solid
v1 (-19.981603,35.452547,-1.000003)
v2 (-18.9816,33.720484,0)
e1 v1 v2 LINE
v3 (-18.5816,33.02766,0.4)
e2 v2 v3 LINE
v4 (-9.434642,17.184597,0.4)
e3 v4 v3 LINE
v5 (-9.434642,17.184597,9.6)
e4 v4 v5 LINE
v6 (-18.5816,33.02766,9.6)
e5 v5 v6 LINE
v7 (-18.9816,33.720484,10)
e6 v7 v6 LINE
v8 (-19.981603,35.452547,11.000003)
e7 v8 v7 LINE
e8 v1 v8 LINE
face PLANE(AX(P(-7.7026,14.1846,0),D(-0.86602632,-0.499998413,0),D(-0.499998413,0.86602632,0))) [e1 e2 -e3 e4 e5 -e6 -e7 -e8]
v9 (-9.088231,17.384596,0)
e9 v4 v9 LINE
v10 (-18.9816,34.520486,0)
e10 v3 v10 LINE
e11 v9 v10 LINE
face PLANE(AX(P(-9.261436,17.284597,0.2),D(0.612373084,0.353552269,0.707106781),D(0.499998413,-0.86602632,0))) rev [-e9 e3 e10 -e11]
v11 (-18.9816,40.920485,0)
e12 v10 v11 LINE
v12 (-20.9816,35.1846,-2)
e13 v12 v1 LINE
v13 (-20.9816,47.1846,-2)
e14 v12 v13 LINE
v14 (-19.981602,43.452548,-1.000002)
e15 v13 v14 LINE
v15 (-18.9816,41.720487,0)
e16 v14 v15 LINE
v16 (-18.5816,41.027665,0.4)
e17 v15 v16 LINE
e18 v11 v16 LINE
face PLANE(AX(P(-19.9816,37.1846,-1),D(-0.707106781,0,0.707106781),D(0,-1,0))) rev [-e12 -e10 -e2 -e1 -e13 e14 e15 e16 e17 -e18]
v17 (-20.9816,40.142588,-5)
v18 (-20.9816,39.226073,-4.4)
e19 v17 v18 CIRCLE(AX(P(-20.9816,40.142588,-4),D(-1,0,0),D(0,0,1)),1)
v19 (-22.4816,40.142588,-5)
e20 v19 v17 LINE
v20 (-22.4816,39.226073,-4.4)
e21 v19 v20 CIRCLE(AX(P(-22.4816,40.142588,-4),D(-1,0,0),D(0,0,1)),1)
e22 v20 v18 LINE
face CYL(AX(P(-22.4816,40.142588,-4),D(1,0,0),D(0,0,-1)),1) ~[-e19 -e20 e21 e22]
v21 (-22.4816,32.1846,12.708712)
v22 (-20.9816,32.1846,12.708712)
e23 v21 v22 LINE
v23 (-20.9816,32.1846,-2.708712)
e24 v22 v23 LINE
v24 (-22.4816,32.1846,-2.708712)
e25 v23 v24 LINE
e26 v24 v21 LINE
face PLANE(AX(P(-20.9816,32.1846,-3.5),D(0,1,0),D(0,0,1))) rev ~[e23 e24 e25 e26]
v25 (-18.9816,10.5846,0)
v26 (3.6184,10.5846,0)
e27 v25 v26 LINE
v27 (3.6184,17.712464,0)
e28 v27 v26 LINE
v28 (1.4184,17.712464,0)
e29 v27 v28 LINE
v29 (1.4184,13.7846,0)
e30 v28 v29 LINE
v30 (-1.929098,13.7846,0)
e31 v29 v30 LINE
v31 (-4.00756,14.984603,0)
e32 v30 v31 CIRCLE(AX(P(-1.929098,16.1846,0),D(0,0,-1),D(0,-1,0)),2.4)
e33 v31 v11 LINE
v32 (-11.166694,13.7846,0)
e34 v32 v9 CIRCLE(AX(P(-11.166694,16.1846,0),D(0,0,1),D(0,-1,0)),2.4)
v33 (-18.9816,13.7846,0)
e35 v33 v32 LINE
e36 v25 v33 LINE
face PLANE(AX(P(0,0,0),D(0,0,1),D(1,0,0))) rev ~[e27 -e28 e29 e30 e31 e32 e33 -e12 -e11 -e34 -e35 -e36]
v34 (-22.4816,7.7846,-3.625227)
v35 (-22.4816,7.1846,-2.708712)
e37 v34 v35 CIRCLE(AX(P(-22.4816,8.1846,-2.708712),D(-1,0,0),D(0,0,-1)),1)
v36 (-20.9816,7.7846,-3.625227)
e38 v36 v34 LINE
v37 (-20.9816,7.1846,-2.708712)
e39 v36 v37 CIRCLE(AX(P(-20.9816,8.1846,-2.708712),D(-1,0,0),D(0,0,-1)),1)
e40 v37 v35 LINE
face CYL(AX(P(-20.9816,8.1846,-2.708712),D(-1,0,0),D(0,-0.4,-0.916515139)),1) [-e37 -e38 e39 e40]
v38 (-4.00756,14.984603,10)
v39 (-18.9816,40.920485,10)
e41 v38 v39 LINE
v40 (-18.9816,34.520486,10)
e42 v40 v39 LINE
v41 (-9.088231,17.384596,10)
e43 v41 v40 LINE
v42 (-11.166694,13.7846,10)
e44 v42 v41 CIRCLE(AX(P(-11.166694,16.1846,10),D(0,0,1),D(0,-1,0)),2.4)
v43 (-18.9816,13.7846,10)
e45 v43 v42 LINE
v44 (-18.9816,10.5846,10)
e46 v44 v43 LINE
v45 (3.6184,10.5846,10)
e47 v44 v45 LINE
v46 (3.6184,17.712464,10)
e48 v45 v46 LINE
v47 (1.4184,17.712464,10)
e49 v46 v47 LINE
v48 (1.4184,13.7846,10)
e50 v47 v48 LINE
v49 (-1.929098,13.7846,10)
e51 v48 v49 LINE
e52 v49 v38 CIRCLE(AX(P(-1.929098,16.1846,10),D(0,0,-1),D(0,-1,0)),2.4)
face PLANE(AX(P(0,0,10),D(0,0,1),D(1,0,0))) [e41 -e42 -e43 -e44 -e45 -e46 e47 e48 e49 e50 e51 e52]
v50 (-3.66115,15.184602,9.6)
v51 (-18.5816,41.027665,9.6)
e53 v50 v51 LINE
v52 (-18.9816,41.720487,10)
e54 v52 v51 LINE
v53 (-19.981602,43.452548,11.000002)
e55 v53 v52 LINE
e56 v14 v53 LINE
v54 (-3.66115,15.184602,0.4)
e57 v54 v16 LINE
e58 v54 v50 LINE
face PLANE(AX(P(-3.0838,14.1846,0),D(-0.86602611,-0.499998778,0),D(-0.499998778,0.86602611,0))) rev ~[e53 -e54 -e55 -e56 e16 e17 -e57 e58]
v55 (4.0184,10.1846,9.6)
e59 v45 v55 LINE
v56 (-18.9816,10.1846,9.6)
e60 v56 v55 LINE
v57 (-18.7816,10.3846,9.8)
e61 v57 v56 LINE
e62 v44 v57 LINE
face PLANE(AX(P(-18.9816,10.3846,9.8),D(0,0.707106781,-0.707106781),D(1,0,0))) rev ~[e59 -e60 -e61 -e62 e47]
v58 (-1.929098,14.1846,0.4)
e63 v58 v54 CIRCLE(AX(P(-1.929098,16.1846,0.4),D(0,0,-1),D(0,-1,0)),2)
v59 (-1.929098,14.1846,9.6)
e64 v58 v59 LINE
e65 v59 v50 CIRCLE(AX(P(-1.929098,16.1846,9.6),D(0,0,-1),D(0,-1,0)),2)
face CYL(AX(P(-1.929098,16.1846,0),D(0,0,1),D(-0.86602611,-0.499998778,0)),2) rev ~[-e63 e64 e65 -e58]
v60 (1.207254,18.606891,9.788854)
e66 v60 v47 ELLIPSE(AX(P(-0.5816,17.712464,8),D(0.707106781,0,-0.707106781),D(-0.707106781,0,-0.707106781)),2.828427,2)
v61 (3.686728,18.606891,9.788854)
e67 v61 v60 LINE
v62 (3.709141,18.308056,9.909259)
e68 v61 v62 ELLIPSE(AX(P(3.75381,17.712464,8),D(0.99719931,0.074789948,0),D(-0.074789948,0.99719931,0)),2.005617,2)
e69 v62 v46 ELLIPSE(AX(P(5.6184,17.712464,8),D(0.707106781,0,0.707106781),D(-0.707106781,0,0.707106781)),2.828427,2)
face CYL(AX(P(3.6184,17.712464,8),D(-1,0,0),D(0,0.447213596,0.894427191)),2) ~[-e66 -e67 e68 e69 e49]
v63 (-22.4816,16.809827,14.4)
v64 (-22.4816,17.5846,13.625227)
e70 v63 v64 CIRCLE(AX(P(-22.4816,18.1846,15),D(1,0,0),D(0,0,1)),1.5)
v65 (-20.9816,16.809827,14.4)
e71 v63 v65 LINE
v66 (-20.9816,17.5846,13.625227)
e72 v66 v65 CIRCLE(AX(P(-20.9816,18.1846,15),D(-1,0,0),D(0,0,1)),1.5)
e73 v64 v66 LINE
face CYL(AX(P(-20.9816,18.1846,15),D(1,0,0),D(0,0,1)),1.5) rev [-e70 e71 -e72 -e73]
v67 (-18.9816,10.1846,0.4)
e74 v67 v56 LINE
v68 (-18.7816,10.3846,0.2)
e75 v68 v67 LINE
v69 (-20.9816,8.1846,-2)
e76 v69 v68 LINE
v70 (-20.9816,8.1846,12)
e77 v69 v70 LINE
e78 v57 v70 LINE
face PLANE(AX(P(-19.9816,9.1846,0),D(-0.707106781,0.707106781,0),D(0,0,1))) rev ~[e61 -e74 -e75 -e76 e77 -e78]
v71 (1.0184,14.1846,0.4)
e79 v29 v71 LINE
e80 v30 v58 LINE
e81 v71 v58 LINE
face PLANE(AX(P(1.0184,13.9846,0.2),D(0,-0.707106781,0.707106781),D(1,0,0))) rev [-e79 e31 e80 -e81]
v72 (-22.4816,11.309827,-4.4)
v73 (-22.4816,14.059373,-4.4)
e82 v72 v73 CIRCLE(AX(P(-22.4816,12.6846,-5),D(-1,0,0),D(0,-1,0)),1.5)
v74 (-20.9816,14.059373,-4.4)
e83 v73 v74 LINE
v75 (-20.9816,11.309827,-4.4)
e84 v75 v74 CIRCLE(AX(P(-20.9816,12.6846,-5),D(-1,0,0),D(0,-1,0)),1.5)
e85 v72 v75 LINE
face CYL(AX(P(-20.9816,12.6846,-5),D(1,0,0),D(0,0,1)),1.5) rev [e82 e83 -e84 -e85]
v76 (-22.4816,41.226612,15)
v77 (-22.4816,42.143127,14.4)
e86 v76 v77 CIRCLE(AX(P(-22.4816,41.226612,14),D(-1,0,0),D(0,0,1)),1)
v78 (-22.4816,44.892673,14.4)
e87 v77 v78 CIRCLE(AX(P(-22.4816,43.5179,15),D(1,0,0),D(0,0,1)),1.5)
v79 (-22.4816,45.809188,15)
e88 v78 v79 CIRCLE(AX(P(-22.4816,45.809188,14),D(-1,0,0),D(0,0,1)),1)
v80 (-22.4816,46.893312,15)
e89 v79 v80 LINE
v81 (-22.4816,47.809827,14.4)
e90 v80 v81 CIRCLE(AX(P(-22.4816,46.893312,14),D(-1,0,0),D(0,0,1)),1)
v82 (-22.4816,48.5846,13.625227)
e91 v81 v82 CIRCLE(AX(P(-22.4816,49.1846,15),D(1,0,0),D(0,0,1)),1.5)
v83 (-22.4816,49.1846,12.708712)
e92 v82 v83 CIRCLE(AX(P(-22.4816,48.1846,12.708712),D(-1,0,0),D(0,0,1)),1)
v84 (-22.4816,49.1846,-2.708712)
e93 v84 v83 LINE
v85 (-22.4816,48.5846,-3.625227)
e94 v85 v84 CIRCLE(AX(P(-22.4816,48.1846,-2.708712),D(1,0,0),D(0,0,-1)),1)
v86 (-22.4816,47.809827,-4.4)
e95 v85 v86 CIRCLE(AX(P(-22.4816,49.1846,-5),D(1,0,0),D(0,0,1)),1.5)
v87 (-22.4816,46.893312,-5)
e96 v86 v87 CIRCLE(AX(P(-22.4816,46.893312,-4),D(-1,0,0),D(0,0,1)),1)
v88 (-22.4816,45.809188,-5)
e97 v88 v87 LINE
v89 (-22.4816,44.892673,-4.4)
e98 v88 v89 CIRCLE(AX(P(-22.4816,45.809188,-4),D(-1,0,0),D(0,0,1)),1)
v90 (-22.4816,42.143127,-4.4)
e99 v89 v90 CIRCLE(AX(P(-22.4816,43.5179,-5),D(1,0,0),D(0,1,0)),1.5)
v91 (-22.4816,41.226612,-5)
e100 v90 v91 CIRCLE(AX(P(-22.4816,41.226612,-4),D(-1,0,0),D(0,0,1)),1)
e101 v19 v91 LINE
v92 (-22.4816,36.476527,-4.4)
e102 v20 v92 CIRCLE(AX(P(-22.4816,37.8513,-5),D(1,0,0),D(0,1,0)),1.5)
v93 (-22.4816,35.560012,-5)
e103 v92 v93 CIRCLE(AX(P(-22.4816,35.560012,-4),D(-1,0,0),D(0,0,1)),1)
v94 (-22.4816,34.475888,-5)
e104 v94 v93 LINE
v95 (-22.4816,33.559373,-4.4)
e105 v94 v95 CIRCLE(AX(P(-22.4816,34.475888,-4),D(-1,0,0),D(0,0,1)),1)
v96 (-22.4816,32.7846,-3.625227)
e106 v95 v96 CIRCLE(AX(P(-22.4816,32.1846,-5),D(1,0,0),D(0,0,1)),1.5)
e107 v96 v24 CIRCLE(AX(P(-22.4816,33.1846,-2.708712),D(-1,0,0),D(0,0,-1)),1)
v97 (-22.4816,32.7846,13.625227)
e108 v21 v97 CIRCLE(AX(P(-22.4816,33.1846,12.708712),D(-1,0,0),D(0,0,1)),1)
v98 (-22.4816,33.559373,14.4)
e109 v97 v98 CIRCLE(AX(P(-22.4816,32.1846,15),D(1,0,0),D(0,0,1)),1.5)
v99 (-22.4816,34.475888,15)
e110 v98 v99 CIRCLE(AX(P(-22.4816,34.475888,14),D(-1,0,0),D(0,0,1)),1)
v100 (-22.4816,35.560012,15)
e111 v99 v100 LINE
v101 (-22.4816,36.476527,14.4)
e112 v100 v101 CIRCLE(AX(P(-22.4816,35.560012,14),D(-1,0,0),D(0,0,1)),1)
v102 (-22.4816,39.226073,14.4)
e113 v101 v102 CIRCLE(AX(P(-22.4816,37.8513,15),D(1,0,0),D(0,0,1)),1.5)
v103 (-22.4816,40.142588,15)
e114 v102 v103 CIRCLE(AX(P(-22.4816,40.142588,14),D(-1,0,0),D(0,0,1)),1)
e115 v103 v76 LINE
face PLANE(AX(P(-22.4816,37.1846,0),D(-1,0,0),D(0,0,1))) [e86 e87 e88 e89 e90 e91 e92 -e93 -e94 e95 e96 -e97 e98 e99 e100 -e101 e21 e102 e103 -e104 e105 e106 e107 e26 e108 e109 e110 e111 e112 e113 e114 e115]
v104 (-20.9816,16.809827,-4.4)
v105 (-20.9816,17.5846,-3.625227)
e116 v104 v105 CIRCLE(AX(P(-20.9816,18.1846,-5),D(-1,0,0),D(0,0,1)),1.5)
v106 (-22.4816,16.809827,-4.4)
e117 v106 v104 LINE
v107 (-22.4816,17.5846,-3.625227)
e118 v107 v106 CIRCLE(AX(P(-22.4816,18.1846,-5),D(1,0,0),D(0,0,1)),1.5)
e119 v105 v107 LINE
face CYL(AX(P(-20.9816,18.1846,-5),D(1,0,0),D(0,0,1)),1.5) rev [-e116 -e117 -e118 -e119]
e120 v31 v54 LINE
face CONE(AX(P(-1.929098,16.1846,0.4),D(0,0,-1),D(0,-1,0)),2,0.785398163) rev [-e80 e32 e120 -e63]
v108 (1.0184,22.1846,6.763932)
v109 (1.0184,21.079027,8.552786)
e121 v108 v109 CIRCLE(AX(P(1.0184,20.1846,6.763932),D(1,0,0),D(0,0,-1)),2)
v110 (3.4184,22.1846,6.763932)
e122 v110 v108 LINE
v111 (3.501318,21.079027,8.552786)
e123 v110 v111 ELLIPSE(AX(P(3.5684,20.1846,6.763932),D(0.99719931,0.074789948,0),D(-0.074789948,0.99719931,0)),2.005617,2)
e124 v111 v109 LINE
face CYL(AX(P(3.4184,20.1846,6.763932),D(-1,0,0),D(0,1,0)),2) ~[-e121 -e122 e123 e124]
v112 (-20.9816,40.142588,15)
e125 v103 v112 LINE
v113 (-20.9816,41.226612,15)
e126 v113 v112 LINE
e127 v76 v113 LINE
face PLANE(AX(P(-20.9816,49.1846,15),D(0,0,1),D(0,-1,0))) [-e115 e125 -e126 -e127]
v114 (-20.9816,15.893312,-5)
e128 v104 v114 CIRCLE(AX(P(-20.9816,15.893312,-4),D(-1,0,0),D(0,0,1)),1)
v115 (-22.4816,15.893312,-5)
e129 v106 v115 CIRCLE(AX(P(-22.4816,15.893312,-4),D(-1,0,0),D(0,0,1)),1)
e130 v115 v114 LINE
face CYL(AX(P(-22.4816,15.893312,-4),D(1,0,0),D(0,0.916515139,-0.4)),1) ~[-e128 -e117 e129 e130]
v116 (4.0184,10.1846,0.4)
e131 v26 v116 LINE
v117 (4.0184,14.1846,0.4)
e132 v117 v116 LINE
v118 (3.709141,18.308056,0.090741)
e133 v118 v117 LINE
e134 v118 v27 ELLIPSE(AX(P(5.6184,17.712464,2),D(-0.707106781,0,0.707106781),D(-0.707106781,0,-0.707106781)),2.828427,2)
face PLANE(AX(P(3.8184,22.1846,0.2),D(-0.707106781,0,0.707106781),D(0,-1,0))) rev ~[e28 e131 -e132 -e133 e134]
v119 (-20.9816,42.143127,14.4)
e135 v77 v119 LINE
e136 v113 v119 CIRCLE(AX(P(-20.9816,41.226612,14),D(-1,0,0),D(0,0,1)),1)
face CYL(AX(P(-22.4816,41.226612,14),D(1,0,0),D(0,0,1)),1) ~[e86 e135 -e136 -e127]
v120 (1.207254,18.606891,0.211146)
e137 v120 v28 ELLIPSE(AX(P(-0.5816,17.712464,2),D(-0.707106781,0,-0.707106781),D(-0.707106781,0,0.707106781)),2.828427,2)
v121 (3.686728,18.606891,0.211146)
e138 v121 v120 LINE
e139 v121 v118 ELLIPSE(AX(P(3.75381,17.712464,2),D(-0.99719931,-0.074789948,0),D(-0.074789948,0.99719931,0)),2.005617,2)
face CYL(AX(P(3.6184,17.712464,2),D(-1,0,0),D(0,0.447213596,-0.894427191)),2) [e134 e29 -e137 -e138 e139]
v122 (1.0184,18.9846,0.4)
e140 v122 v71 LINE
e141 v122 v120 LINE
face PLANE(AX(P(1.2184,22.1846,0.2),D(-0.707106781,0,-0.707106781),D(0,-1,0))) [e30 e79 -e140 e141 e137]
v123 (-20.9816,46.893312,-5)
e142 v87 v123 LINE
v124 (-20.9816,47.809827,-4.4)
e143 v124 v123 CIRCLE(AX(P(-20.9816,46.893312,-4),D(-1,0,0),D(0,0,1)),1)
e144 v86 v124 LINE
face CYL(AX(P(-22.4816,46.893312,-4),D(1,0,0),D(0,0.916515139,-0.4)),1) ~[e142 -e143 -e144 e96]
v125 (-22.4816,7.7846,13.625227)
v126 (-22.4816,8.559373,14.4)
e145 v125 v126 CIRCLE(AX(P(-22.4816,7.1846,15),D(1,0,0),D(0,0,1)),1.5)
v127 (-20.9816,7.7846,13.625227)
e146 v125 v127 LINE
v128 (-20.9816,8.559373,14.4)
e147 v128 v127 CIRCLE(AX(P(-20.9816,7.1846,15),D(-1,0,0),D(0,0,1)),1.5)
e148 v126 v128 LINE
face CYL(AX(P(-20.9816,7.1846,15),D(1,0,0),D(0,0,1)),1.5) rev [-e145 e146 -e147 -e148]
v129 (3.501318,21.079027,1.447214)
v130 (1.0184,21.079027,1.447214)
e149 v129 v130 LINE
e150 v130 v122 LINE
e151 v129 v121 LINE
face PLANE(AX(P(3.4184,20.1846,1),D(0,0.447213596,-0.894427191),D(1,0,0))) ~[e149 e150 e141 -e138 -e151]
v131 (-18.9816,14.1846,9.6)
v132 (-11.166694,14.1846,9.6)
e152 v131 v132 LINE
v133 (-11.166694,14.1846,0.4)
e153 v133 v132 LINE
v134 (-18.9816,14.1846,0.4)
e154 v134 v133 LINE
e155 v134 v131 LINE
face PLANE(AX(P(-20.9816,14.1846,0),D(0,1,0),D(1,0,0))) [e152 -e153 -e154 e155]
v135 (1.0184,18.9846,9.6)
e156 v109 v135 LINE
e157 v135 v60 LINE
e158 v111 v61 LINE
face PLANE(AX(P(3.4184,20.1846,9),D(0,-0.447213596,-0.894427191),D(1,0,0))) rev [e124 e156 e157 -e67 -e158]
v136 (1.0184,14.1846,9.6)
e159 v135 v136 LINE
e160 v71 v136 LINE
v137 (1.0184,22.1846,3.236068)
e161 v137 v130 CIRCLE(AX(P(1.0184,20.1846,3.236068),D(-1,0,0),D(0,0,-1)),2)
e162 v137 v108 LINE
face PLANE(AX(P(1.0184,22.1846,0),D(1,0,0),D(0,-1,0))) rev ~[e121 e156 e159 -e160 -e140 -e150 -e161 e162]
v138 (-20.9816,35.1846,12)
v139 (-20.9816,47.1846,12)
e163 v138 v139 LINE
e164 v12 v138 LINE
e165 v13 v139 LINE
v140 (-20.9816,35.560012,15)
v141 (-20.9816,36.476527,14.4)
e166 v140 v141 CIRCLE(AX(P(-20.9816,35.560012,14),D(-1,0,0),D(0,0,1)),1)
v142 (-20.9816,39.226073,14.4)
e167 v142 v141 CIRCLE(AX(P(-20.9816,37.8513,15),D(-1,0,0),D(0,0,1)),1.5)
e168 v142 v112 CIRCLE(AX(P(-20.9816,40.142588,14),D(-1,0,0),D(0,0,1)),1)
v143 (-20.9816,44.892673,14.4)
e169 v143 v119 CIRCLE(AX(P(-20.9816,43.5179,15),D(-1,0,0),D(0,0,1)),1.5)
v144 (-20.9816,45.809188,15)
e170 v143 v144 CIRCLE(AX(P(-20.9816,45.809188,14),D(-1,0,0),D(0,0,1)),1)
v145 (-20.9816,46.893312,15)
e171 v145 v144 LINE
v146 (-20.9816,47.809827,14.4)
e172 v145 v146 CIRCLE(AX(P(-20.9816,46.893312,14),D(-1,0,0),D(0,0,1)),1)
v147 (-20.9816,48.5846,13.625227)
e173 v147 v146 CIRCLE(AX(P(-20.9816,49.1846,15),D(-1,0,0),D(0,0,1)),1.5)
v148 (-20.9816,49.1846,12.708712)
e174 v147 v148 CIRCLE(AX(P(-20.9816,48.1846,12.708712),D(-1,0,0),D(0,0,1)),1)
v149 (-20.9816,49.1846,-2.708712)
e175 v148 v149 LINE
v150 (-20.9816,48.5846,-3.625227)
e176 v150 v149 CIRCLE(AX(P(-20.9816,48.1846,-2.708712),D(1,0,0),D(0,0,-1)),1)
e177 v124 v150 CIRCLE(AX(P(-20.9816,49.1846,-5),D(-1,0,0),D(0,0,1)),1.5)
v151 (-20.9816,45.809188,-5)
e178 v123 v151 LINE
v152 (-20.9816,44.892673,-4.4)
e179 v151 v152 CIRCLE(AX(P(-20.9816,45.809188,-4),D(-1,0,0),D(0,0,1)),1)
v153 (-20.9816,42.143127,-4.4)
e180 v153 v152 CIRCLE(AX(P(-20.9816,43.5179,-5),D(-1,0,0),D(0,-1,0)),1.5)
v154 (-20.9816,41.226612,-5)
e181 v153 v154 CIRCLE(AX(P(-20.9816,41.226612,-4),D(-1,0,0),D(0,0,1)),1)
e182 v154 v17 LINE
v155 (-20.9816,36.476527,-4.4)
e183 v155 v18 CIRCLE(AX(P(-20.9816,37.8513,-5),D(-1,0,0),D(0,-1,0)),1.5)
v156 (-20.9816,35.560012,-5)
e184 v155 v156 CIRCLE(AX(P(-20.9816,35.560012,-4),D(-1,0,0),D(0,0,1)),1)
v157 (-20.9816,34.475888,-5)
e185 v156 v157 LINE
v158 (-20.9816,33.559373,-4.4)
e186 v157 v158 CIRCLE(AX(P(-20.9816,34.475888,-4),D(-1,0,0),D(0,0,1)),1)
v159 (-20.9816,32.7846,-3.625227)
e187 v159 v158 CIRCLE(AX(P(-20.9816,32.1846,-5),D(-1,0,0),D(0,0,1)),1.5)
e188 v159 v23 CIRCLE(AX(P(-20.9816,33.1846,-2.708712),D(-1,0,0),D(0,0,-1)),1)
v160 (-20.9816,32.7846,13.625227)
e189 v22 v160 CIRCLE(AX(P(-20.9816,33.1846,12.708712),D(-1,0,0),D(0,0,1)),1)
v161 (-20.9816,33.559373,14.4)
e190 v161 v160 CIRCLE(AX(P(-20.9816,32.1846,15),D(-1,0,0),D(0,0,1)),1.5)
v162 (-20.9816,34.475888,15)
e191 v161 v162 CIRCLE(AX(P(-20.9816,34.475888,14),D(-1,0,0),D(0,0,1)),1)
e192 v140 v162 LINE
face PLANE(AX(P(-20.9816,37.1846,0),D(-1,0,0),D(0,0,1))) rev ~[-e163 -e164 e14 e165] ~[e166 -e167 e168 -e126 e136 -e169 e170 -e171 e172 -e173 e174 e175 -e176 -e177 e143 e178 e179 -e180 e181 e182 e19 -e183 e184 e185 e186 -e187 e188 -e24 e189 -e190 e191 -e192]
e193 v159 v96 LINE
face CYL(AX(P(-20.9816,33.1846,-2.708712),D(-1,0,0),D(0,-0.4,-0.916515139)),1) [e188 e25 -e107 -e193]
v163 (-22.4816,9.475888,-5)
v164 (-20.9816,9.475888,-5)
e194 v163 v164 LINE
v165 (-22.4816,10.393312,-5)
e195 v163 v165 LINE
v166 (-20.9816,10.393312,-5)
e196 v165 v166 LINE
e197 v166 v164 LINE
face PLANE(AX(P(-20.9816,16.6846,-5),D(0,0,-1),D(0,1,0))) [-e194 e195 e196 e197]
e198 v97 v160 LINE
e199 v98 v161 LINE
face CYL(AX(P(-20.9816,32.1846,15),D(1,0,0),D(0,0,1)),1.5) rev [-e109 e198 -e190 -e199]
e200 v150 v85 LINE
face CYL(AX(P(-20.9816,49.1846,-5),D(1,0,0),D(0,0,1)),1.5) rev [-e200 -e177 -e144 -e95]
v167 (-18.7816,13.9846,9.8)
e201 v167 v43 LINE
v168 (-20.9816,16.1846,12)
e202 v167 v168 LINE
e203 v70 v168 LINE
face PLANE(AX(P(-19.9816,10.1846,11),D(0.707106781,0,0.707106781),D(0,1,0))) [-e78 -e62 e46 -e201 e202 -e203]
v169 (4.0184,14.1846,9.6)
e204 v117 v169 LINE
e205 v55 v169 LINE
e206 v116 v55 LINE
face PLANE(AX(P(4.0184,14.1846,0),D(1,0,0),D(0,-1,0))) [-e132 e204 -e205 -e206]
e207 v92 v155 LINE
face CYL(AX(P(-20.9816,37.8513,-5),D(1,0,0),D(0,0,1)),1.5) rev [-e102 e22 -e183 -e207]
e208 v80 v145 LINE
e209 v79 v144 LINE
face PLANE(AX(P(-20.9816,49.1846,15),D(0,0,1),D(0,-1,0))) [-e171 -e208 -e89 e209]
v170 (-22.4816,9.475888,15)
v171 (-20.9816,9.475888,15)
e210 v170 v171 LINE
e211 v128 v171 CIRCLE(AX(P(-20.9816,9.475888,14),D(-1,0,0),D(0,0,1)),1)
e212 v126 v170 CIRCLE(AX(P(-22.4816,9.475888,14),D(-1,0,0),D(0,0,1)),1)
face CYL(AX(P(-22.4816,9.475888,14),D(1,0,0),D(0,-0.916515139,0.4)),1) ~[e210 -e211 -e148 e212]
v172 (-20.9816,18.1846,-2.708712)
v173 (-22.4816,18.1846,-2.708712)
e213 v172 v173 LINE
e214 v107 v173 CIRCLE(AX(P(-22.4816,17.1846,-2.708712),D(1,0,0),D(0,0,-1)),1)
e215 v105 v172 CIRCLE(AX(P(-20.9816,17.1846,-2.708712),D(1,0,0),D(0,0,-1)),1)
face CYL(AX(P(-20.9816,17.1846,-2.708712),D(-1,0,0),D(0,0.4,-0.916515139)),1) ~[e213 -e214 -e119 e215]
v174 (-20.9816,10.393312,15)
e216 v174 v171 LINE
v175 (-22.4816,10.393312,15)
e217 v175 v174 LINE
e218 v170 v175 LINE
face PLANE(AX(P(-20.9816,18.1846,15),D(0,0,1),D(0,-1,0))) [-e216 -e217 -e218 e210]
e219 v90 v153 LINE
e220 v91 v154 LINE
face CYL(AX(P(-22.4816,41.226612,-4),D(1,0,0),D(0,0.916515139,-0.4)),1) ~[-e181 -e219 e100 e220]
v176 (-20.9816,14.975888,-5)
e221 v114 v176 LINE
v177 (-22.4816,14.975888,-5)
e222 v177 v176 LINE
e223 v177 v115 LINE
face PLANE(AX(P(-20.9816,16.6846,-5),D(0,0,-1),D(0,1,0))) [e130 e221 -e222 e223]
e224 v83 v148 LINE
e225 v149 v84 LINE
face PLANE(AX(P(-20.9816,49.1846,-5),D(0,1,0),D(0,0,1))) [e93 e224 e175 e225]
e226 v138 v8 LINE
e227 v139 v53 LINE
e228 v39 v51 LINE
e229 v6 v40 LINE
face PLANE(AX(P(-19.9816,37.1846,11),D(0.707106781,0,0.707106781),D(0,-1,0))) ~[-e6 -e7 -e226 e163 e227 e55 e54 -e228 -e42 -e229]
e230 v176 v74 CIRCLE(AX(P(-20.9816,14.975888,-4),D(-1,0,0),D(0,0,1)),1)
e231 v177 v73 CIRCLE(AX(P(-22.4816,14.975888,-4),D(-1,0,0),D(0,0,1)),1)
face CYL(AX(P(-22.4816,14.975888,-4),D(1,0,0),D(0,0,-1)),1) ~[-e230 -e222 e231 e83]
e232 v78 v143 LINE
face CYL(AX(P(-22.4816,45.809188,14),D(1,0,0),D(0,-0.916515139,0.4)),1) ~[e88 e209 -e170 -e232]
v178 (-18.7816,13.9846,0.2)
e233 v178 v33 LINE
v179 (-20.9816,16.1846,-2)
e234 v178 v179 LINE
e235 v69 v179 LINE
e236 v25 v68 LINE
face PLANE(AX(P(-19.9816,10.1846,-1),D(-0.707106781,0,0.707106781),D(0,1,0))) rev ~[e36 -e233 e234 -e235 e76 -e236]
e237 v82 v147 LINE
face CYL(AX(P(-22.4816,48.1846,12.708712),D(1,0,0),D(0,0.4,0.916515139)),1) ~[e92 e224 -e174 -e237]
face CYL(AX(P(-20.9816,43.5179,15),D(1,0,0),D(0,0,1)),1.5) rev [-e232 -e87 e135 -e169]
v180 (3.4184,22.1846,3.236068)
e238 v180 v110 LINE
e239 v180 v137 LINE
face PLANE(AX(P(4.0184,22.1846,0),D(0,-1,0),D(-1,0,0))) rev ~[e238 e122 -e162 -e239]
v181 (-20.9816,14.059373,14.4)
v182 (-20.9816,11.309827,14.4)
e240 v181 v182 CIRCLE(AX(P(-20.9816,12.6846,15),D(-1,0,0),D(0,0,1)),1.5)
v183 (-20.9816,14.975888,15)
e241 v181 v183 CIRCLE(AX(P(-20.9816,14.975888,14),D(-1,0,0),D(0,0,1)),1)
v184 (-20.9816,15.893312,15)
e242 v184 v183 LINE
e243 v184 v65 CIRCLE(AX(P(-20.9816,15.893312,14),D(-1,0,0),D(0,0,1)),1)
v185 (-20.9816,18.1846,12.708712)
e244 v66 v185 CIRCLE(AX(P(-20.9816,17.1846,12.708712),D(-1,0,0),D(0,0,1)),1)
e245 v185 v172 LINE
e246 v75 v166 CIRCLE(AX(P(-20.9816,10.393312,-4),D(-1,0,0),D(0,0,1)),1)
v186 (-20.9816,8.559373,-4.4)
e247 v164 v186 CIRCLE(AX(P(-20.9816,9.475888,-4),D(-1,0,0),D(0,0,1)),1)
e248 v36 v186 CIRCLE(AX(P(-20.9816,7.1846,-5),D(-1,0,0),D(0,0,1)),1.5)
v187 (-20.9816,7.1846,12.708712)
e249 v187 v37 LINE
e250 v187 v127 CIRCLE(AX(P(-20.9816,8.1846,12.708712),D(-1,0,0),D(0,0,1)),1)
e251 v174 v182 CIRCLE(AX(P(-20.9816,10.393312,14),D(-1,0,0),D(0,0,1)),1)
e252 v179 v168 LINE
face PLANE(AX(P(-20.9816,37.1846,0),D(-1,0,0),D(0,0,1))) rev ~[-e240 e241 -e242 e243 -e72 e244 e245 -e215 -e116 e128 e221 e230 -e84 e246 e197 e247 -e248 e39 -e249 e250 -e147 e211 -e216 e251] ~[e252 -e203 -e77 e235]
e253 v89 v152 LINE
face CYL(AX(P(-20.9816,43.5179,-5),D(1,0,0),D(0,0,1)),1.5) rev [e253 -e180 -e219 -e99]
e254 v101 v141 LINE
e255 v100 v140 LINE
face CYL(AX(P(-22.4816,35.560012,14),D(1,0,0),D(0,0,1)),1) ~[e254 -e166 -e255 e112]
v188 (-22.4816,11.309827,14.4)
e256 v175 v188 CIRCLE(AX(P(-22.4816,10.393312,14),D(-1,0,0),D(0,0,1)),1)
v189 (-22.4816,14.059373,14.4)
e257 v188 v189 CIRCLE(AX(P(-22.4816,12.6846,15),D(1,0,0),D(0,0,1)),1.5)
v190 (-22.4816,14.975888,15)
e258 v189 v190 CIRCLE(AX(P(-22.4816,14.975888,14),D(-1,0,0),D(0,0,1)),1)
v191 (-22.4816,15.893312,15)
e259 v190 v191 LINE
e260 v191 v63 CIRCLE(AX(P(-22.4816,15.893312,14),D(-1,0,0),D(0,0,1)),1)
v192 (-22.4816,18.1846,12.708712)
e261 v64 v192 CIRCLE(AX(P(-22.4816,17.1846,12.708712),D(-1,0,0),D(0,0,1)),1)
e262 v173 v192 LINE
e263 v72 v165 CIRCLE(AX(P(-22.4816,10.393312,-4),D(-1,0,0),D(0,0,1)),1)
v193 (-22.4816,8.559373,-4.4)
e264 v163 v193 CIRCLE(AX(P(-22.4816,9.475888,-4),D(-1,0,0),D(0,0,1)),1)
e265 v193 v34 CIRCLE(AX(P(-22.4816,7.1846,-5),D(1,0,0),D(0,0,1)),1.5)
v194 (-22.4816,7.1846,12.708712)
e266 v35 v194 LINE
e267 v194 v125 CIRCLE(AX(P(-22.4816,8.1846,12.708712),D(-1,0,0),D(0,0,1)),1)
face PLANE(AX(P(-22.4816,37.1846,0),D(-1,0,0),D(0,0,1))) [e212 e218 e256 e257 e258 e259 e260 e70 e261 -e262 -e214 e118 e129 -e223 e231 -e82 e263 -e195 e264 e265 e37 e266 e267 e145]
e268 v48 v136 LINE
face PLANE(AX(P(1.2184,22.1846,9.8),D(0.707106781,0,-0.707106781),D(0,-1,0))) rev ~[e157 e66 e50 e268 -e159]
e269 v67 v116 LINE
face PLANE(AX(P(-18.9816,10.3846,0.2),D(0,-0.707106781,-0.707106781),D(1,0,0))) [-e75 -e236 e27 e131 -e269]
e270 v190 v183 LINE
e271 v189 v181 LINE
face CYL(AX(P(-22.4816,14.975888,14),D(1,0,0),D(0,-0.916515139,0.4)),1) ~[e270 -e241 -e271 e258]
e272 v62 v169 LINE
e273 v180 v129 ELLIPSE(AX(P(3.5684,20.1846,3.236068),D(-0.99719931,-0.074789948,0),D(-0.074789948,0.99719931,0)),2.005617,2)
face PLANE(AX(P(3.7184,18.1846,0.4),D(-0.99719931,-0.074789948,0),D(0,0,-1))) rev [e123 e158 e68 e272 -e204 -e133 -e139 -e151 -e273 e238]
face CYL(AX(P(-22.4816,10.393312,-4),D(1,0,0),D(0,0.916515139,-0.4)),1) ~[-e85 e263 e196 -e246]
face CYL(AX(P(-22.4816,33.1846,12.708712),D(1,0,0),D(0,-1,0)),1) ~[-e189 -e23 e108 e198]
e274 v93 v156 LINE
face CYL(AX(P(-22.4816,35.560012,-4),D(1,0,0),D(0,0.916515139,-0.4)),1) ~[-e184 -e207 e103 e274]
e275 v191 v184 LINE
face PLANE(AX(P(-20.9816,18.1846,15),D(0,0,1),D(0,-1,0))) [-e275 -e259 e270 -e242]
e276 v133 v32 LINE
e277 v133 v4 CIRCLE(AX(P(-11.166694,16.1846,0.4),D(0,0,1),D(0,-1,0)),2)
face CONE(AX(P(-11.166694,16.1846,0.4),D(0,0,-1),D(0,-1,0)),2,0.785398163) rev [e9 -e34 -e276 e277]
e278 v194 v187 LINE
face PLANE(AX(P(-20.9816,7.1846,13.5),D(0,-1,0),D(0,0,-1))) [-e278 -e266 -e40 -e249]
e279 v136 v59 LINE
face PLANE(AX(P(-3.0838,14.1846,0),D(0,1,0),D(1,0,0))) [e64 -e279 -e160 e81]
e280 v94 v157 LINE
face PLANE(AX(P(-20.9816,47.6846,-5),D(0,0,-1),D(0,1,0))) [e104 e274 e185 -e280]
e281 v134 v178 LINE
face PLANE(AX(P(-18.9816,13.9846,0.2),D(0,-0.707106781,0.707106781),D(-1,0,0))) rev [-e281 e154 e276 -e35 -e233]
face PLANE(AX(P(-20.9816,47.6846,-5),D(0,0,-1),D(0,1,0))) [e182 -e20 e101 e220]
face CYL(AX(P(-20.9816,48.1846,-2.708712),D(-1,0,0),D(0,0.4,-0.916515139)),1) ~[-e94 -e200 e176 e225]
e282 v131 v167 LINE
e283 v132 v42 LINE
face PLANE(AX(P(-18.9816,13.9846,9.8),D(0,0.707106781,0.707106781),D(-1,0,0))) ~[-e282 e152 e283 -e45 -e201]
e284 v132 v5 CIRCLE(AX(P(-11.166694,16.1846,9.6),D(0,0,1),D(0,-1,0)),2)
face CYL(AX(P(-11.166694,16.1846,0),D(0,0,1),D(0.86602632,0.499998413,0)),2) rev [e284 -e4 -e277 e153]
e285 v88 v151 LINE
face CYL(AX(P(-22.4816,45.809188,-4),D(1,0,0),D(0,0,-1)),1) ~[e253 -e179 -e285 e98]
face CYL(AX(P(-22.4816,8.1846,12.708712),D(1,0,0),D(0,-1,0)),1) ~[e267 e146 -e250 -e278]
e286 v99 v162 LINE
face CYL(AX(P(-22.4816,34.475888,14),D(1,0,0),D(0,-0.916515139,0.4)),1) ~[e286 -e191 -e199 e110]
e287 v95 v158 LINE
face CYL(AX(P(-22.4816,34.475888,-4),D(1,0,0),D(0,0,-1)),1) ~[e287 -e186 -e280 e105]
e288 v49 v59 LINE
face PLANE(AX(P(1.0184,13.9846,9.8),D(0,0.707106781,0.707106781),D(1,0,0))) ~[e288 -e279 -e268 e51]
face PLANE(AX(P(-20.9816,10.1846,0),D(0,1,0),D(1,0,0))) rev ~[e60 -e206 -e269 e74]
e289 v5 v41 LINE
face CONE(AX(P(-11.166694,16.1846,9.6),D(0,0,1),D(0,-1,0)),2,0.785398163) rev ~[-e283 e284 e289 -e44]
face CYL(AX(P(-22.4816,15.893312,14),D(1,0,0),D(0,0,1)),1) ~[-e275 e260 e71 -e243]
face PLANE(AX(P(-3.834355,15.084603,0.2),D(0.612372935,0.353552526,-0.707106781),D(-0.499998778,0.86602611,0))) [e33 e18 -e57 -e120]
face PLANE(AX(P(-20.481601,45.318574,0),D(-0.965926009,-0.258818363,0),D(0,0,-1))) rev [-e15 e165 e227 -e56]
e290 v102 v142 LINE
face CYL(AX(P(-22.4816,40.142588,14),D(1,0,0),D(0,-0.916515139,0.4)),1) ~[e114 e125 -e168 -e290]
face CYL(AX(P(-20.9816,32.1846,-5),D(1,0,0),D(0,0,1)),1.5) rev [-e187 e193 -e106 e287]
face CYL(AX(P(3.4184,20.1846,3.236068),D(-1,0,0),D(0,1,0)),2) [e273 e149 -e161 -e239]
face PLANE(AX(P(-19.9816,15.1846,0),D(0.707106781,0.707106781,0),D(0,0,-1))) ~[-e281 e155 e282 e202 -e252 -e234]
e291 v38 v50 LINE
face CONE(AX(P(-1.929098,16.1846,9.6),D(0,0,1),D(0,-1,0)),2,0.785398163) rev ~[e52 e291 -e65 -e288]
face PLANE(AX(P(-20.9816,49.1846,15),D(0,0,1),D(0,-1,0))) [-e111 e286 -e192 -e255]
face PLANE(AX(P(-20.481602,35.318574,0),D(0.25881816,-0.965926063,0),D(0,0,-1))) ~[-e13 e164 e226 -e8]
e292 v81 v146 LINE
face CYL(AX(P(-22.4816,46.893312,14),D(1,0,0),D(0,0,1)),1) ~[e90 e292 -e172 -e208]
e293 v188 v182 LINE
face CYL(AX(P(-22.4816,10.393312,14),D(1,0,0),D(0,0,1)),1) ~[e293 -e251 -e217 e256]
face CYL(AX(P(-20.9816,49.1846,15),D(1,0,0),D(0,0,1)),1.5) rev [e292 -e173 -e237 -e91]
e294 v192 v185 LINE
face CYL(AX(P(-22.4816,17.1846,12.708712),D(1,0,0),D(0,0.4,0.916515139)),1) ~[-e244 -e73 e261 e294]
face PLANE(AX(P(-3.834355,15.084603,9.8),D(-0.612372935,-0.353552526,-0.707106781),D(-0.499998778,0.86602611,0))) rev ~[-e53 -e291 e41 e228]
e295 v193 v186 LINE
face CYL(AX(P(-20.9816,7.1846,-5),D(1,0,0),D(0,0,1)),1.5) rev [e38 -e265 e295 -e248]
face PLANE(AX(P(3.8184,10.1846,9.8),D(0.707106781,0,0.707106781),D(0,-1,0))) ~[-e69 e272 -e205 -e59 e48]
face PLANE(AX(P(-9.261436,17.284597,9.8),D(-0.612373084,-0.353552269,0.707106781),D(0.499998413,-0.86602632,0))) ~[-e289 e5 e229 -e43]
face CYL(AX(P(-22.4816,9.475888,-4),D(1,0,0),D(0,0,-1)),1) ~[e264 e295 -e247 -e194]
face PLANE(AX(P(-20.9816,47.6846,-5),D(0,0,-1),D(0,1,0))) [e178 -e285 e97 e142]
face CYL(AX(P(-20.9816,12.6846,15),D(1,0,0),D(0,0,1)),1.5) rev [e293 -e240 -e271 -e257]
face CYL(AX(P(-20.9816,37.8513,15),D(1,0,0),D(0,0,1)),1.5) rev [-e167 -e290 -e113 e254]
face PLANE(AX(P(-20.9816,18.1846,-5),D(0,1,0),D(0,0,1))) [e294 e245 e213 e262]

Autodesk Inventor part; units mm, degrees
ref_plane "YZ Plane" through (0, 0, 0) normal (1, 0, 0) x (0, 1, 0)
ref_plane "XZ Plane" through (0, 0, 0) normal (0, 1, 0) x (-1, 0, 0)
ref_plane "XY Plane" through (0, 0, 0) normal (0, 0, 1) x (1, 0, 0)
sketch "Sketch2" plane through (0, 0, 0) normal (0, 0, 1) x (1, 0, 0)
  line L0 (-20.9816, 10.1846) -> (4.0184, 10.1846)
  line L1 (-20.9816, 14.1846) -> (4.0184, 14.1846)
  line L2 (4.0184, 14.1846) -> (4.0184, 10.1846)
  line L3 (4.0184, 14.1846) -> (4.0184, 22.1846)
  line L4 (4.0184, 22.1846) -> (1.0184, 22.1846)
  line L5 (1.0184, 22.1846) -> (1.0184, 14.1846)
  line L6 (-7.7026, 14.1846) -> (-20.9816, 37.1846)
  line L7 (-3.0838, 14.1846) -> (-20.9816, 45.1846)
  line L8 (-20.9816, 10.1846) -> (-20.9816, 14.1846)
  line L9 (-20.9816, 37.1846) -> (-20.9816, 14.1846)
  line L10 (-20.9816, 37.1846) -> (-20.9816, 45.1846)
  point P0 (0, 0)
  dimension "d0" = 25
  dimension "d1" = 3
  dimension "d2" = 4
  dimension "d3" = 4
  dimension "d4" = 35
  dimension "d5" = 60
  dimension "d14" = 8
extrude "Extrusion1" add sketch "Sketch2" along normal blind 10 contours L8 L1 L2 L0 | L1 L5 L4 L3 | L6 L10 L7 L1
sketch "Sketch3" plane through (-20.9816, 37.1846, 0) normal (-1, 0, 0) x (0, 0, 1)
  line L0 (-5, 15) -> (15, 15)
  line L1 (15, 15) -> (15, -30)
  line L2 (15, -30) -> (-5, -30)
  line L3 (-5, -30) -> (-5, 15)
  line L4 (0, 8) -> (0, 0) projected
  line L5 (0, 0) -> (10, 0) projected
  line L6 (10, 8) -> (10, 0) projected
  line L7 (0, 8) -> (10, 8) projected
  line L8 (0, -23) -> (0, -27) projected
  line L9 (0, -27) -> (10, -27) projected
  line L10 (10, -23) -> (10, -27) projected
  line L11 (0, -23) -> (10, -23) projected
  line L12 (-5, -19) -> (15, -19)
  line L13 (-5, 12) -> (15, 12)
  line L14 (-5, -5) -> (15, -5)
  circle A0 centre (-5, 12) radius 1.5
  circle A1 centre (15, 12) radius 1.5
  circle A2 centre (-5, -19) radius 1.5
  circle A3 centre (-5, -30) radius 1.5
  circle A4 centre (15, -30) radius 1.5
  circle A5 centre (15, -19) radius 1.5
  circle A6 centre (-5, -24.5) radius 1.5
  circle A7 centre (15, -24.5) radius 1.5
  circle A8 centre (-5, 6.3333) radius 1.5
  circle A9 centre (-5, 0.6667) radius 1.5
  circle A10 centre (-5, -5) radius 1.5
  circle A11 centre (15, 6.3333) radius 1.5
  circle A12 centre (15, 0.6667) radius 1.5
  circle A13 centre (15, -5) radius 1.5
  point P0 (0, -37.1846)
  dimension "d15" = 20
  dimension "d16" = 45
  dimension "d17" = 3
  dimension "d18" = 10
  dimension "d19" = 5
  dimension "d20" = 4
  dimension "d21" = 5
  dimension "d22" = 4
  dimension "d25" = 3
  dimension "d28" = 3
  dimension "d29" = 3
  dimension "d30" = 3
  dimension "d31" = 3
  dimension "d32" = 3
  dimension "d33" = 3
  dimension "d34" = 3
  dimension "d35" = 11
  dimension "d36" = 5.5
  dimension "d37" = 17
  dimension "d40" = 5.6667
  dimension "d47" = 5.6667
extrude "Extrusion2" add sketch "Sketch3" along normal blind 1.5 contours L13 A0 L3 | L13 A1 L1 A11 A12 A13 L14 A10 L3 A9 A8 A0 | L1 A1 L13 | A8 L3 | L1 A11 | A9 L3 | L1 A12 | A10 L14 L3 | L1 L14 A13 | L12 A2 L3 | L12 A5 L1 A7 A4 L2 A3 L3 A6 A2 | L12 L1 A5 | A6 L3 | L1 A7 | A3 L2 L3 | L1 L2 A4 | L7 L6 L5 L4 | L11 L10 L9 L8 picked at (-4.6718, 11.0621) picked at (14.0125, 11.8887) picked at (-4.2378, 6.0073) picked at (14.3164, 6.7503) picked at (-4.577, 1.0702) picked at (14.3164, 1.0837) picked at (-4.8887, -4.0125) picked at (14.0125, -4.8887) picked at (-4.6718, -19.9379) picked at (14.8887, -19.9875) picked at (-4.8887, -24.0125) picked at (14.0246, -24.1475) picked at (-4.0621, -29.6718) picked at (14.0125, -29.8887)
extrude "Extrusion3" cut sketch "Sketch3" along normal blind 2 contours A0 L13 L3 | L3 A0 | A1 L1 | L1 L13 A1 | L13 A0 L3 | L1 A1 L13 | A8 L3 | L3 A8 | A11 L1 | L1 A11 | A9 L3 | L3 A9 | A12 L1 | L1 A12 | A10 L14 L3 | L3 A10 | L14 A10 L3 | A13 L1 | L1 L14 A13 | L14 L1 A13 | A2 L12 L3 | L3 A2 | L12 A2 L3 | A5 L1 | L1 L12 A5 | L12 L1 A5 | A6 L3 | L3 A6 | A7 L1 | L1 A7 | A3 L2 L3 | L3 L2 A3 | A4 L2 L1 | L1 L2 A4
chamfer "Chamfer3" distance 2 angle 45 8 edges at (-20.9816, 41.1846, 0) (-20.9816, 45.1846, 5) (-20.9816, 41.1846, 10) (-20.9816, 37.1846, 5) (-20.9816, 12.1846, 10) (-20.9816, 14.1846, 5) (-20.9816, 10.1846, 5) (-20.9816, 12.1846, 0)
fillet "Fillet1" radius 2 2 edges at (-3.0838, 14.1846, 5) (-7.7026, 14.1846, 5)
chamfer "Chamfer4" distance 0.4 angle 45 16 edges at (-11.3214, 28.4526, 10) (-2.9291, 14.4526, 10) (-0.4553, 14.1846, 10) (-14.2081, 25.4526, 10) (-15.0741, 14.1846, 10) (-11.3214, 28.4526, 0) (-2.9291, 14.4526, 0) (-0.4553, 14.1846, 0) (-14.2081, 25.4526, 0) (-15.0741, 14.1846, 0) (1.0184, 18.1846, 10) (4.0184, 16.1846, 10) (4.0184, 16.1846, 0) (-7.4816, 10.1846, 10) (-7.4816, 10.1846, 0) (1.0184, 18.1846, 0)
chamfer "Chamfer5" distance 0.6 distance2 8 1 edges at (4.0184, 22.1846, 5) measured on face at (3.0184, 22.1846, 6.5333)
chamfer "Chamfer6" distance 2 distance2 4 1 edges at (2.4184, 22.1846, 0) measured on face at (2.6184, 22.1846, 3.4667)
chamfer "Chamfer7" distance 2 distance2 4 1 edges at (2.4184, 22.1846, 10) measured on face at (2.6184, 22.1846, 7.2)
fillet "Fillet2" radius 2 4 edges at (2.2184, 22.1846, 2) (2.5184, 18.1846, 0) (2.2184, 22.1846, 8) (2.5184, 18.1846, 10)
fillet "Fillet3" radius 1 28 edges at (-21.7316, 49.1846, -3.5) (-21.7316, 47.6846, -5) (-21.7316, 45.018, -5) (-21.7316, 42.018, -5) (-21.7316, 39.3513, -5) (-21.7316, 36.3513, -5) (-21.7316, 33.6846, -5) (-21.7316, 32.1846, -3.5) (-21.7316, 49.1846, 13.5) (-21.7316, 47.6846, 15) (-21.7316, 42.018, 15) (-21.7316, 45.018, 15) (-21.7316, 36.3513, 15) (-21.7316, 39.3513, 15) (-21.7316, 33.6846, 15) (-21.7316, 32.1846, 13.5) (-21.7316, 18.1846, 13.5) (-21.7316, 16.6846, 15) (-21.7316, 11.1846, 15) (-21.7316, 14.1846, 15) (-21.7316, 8.6846, 15) (-21.7316, 7.1846, 13.5) (-21.7316, 7.1846, -3.5) (-21.7316, 8.6846, -5) (-21.7316, 14.1846, -5) (-21.7316, 11.1846, -5) (-21.7316, 16.6846, -5) (-21.7316, 18.1846, -3.5)
equation "\"d3\" = d2"
equation "\"d36\" = 0.5 * d35"
properties part number "CNCM_ALU_Visual_inspection_tray_hook" material "Aluminum 6061"
